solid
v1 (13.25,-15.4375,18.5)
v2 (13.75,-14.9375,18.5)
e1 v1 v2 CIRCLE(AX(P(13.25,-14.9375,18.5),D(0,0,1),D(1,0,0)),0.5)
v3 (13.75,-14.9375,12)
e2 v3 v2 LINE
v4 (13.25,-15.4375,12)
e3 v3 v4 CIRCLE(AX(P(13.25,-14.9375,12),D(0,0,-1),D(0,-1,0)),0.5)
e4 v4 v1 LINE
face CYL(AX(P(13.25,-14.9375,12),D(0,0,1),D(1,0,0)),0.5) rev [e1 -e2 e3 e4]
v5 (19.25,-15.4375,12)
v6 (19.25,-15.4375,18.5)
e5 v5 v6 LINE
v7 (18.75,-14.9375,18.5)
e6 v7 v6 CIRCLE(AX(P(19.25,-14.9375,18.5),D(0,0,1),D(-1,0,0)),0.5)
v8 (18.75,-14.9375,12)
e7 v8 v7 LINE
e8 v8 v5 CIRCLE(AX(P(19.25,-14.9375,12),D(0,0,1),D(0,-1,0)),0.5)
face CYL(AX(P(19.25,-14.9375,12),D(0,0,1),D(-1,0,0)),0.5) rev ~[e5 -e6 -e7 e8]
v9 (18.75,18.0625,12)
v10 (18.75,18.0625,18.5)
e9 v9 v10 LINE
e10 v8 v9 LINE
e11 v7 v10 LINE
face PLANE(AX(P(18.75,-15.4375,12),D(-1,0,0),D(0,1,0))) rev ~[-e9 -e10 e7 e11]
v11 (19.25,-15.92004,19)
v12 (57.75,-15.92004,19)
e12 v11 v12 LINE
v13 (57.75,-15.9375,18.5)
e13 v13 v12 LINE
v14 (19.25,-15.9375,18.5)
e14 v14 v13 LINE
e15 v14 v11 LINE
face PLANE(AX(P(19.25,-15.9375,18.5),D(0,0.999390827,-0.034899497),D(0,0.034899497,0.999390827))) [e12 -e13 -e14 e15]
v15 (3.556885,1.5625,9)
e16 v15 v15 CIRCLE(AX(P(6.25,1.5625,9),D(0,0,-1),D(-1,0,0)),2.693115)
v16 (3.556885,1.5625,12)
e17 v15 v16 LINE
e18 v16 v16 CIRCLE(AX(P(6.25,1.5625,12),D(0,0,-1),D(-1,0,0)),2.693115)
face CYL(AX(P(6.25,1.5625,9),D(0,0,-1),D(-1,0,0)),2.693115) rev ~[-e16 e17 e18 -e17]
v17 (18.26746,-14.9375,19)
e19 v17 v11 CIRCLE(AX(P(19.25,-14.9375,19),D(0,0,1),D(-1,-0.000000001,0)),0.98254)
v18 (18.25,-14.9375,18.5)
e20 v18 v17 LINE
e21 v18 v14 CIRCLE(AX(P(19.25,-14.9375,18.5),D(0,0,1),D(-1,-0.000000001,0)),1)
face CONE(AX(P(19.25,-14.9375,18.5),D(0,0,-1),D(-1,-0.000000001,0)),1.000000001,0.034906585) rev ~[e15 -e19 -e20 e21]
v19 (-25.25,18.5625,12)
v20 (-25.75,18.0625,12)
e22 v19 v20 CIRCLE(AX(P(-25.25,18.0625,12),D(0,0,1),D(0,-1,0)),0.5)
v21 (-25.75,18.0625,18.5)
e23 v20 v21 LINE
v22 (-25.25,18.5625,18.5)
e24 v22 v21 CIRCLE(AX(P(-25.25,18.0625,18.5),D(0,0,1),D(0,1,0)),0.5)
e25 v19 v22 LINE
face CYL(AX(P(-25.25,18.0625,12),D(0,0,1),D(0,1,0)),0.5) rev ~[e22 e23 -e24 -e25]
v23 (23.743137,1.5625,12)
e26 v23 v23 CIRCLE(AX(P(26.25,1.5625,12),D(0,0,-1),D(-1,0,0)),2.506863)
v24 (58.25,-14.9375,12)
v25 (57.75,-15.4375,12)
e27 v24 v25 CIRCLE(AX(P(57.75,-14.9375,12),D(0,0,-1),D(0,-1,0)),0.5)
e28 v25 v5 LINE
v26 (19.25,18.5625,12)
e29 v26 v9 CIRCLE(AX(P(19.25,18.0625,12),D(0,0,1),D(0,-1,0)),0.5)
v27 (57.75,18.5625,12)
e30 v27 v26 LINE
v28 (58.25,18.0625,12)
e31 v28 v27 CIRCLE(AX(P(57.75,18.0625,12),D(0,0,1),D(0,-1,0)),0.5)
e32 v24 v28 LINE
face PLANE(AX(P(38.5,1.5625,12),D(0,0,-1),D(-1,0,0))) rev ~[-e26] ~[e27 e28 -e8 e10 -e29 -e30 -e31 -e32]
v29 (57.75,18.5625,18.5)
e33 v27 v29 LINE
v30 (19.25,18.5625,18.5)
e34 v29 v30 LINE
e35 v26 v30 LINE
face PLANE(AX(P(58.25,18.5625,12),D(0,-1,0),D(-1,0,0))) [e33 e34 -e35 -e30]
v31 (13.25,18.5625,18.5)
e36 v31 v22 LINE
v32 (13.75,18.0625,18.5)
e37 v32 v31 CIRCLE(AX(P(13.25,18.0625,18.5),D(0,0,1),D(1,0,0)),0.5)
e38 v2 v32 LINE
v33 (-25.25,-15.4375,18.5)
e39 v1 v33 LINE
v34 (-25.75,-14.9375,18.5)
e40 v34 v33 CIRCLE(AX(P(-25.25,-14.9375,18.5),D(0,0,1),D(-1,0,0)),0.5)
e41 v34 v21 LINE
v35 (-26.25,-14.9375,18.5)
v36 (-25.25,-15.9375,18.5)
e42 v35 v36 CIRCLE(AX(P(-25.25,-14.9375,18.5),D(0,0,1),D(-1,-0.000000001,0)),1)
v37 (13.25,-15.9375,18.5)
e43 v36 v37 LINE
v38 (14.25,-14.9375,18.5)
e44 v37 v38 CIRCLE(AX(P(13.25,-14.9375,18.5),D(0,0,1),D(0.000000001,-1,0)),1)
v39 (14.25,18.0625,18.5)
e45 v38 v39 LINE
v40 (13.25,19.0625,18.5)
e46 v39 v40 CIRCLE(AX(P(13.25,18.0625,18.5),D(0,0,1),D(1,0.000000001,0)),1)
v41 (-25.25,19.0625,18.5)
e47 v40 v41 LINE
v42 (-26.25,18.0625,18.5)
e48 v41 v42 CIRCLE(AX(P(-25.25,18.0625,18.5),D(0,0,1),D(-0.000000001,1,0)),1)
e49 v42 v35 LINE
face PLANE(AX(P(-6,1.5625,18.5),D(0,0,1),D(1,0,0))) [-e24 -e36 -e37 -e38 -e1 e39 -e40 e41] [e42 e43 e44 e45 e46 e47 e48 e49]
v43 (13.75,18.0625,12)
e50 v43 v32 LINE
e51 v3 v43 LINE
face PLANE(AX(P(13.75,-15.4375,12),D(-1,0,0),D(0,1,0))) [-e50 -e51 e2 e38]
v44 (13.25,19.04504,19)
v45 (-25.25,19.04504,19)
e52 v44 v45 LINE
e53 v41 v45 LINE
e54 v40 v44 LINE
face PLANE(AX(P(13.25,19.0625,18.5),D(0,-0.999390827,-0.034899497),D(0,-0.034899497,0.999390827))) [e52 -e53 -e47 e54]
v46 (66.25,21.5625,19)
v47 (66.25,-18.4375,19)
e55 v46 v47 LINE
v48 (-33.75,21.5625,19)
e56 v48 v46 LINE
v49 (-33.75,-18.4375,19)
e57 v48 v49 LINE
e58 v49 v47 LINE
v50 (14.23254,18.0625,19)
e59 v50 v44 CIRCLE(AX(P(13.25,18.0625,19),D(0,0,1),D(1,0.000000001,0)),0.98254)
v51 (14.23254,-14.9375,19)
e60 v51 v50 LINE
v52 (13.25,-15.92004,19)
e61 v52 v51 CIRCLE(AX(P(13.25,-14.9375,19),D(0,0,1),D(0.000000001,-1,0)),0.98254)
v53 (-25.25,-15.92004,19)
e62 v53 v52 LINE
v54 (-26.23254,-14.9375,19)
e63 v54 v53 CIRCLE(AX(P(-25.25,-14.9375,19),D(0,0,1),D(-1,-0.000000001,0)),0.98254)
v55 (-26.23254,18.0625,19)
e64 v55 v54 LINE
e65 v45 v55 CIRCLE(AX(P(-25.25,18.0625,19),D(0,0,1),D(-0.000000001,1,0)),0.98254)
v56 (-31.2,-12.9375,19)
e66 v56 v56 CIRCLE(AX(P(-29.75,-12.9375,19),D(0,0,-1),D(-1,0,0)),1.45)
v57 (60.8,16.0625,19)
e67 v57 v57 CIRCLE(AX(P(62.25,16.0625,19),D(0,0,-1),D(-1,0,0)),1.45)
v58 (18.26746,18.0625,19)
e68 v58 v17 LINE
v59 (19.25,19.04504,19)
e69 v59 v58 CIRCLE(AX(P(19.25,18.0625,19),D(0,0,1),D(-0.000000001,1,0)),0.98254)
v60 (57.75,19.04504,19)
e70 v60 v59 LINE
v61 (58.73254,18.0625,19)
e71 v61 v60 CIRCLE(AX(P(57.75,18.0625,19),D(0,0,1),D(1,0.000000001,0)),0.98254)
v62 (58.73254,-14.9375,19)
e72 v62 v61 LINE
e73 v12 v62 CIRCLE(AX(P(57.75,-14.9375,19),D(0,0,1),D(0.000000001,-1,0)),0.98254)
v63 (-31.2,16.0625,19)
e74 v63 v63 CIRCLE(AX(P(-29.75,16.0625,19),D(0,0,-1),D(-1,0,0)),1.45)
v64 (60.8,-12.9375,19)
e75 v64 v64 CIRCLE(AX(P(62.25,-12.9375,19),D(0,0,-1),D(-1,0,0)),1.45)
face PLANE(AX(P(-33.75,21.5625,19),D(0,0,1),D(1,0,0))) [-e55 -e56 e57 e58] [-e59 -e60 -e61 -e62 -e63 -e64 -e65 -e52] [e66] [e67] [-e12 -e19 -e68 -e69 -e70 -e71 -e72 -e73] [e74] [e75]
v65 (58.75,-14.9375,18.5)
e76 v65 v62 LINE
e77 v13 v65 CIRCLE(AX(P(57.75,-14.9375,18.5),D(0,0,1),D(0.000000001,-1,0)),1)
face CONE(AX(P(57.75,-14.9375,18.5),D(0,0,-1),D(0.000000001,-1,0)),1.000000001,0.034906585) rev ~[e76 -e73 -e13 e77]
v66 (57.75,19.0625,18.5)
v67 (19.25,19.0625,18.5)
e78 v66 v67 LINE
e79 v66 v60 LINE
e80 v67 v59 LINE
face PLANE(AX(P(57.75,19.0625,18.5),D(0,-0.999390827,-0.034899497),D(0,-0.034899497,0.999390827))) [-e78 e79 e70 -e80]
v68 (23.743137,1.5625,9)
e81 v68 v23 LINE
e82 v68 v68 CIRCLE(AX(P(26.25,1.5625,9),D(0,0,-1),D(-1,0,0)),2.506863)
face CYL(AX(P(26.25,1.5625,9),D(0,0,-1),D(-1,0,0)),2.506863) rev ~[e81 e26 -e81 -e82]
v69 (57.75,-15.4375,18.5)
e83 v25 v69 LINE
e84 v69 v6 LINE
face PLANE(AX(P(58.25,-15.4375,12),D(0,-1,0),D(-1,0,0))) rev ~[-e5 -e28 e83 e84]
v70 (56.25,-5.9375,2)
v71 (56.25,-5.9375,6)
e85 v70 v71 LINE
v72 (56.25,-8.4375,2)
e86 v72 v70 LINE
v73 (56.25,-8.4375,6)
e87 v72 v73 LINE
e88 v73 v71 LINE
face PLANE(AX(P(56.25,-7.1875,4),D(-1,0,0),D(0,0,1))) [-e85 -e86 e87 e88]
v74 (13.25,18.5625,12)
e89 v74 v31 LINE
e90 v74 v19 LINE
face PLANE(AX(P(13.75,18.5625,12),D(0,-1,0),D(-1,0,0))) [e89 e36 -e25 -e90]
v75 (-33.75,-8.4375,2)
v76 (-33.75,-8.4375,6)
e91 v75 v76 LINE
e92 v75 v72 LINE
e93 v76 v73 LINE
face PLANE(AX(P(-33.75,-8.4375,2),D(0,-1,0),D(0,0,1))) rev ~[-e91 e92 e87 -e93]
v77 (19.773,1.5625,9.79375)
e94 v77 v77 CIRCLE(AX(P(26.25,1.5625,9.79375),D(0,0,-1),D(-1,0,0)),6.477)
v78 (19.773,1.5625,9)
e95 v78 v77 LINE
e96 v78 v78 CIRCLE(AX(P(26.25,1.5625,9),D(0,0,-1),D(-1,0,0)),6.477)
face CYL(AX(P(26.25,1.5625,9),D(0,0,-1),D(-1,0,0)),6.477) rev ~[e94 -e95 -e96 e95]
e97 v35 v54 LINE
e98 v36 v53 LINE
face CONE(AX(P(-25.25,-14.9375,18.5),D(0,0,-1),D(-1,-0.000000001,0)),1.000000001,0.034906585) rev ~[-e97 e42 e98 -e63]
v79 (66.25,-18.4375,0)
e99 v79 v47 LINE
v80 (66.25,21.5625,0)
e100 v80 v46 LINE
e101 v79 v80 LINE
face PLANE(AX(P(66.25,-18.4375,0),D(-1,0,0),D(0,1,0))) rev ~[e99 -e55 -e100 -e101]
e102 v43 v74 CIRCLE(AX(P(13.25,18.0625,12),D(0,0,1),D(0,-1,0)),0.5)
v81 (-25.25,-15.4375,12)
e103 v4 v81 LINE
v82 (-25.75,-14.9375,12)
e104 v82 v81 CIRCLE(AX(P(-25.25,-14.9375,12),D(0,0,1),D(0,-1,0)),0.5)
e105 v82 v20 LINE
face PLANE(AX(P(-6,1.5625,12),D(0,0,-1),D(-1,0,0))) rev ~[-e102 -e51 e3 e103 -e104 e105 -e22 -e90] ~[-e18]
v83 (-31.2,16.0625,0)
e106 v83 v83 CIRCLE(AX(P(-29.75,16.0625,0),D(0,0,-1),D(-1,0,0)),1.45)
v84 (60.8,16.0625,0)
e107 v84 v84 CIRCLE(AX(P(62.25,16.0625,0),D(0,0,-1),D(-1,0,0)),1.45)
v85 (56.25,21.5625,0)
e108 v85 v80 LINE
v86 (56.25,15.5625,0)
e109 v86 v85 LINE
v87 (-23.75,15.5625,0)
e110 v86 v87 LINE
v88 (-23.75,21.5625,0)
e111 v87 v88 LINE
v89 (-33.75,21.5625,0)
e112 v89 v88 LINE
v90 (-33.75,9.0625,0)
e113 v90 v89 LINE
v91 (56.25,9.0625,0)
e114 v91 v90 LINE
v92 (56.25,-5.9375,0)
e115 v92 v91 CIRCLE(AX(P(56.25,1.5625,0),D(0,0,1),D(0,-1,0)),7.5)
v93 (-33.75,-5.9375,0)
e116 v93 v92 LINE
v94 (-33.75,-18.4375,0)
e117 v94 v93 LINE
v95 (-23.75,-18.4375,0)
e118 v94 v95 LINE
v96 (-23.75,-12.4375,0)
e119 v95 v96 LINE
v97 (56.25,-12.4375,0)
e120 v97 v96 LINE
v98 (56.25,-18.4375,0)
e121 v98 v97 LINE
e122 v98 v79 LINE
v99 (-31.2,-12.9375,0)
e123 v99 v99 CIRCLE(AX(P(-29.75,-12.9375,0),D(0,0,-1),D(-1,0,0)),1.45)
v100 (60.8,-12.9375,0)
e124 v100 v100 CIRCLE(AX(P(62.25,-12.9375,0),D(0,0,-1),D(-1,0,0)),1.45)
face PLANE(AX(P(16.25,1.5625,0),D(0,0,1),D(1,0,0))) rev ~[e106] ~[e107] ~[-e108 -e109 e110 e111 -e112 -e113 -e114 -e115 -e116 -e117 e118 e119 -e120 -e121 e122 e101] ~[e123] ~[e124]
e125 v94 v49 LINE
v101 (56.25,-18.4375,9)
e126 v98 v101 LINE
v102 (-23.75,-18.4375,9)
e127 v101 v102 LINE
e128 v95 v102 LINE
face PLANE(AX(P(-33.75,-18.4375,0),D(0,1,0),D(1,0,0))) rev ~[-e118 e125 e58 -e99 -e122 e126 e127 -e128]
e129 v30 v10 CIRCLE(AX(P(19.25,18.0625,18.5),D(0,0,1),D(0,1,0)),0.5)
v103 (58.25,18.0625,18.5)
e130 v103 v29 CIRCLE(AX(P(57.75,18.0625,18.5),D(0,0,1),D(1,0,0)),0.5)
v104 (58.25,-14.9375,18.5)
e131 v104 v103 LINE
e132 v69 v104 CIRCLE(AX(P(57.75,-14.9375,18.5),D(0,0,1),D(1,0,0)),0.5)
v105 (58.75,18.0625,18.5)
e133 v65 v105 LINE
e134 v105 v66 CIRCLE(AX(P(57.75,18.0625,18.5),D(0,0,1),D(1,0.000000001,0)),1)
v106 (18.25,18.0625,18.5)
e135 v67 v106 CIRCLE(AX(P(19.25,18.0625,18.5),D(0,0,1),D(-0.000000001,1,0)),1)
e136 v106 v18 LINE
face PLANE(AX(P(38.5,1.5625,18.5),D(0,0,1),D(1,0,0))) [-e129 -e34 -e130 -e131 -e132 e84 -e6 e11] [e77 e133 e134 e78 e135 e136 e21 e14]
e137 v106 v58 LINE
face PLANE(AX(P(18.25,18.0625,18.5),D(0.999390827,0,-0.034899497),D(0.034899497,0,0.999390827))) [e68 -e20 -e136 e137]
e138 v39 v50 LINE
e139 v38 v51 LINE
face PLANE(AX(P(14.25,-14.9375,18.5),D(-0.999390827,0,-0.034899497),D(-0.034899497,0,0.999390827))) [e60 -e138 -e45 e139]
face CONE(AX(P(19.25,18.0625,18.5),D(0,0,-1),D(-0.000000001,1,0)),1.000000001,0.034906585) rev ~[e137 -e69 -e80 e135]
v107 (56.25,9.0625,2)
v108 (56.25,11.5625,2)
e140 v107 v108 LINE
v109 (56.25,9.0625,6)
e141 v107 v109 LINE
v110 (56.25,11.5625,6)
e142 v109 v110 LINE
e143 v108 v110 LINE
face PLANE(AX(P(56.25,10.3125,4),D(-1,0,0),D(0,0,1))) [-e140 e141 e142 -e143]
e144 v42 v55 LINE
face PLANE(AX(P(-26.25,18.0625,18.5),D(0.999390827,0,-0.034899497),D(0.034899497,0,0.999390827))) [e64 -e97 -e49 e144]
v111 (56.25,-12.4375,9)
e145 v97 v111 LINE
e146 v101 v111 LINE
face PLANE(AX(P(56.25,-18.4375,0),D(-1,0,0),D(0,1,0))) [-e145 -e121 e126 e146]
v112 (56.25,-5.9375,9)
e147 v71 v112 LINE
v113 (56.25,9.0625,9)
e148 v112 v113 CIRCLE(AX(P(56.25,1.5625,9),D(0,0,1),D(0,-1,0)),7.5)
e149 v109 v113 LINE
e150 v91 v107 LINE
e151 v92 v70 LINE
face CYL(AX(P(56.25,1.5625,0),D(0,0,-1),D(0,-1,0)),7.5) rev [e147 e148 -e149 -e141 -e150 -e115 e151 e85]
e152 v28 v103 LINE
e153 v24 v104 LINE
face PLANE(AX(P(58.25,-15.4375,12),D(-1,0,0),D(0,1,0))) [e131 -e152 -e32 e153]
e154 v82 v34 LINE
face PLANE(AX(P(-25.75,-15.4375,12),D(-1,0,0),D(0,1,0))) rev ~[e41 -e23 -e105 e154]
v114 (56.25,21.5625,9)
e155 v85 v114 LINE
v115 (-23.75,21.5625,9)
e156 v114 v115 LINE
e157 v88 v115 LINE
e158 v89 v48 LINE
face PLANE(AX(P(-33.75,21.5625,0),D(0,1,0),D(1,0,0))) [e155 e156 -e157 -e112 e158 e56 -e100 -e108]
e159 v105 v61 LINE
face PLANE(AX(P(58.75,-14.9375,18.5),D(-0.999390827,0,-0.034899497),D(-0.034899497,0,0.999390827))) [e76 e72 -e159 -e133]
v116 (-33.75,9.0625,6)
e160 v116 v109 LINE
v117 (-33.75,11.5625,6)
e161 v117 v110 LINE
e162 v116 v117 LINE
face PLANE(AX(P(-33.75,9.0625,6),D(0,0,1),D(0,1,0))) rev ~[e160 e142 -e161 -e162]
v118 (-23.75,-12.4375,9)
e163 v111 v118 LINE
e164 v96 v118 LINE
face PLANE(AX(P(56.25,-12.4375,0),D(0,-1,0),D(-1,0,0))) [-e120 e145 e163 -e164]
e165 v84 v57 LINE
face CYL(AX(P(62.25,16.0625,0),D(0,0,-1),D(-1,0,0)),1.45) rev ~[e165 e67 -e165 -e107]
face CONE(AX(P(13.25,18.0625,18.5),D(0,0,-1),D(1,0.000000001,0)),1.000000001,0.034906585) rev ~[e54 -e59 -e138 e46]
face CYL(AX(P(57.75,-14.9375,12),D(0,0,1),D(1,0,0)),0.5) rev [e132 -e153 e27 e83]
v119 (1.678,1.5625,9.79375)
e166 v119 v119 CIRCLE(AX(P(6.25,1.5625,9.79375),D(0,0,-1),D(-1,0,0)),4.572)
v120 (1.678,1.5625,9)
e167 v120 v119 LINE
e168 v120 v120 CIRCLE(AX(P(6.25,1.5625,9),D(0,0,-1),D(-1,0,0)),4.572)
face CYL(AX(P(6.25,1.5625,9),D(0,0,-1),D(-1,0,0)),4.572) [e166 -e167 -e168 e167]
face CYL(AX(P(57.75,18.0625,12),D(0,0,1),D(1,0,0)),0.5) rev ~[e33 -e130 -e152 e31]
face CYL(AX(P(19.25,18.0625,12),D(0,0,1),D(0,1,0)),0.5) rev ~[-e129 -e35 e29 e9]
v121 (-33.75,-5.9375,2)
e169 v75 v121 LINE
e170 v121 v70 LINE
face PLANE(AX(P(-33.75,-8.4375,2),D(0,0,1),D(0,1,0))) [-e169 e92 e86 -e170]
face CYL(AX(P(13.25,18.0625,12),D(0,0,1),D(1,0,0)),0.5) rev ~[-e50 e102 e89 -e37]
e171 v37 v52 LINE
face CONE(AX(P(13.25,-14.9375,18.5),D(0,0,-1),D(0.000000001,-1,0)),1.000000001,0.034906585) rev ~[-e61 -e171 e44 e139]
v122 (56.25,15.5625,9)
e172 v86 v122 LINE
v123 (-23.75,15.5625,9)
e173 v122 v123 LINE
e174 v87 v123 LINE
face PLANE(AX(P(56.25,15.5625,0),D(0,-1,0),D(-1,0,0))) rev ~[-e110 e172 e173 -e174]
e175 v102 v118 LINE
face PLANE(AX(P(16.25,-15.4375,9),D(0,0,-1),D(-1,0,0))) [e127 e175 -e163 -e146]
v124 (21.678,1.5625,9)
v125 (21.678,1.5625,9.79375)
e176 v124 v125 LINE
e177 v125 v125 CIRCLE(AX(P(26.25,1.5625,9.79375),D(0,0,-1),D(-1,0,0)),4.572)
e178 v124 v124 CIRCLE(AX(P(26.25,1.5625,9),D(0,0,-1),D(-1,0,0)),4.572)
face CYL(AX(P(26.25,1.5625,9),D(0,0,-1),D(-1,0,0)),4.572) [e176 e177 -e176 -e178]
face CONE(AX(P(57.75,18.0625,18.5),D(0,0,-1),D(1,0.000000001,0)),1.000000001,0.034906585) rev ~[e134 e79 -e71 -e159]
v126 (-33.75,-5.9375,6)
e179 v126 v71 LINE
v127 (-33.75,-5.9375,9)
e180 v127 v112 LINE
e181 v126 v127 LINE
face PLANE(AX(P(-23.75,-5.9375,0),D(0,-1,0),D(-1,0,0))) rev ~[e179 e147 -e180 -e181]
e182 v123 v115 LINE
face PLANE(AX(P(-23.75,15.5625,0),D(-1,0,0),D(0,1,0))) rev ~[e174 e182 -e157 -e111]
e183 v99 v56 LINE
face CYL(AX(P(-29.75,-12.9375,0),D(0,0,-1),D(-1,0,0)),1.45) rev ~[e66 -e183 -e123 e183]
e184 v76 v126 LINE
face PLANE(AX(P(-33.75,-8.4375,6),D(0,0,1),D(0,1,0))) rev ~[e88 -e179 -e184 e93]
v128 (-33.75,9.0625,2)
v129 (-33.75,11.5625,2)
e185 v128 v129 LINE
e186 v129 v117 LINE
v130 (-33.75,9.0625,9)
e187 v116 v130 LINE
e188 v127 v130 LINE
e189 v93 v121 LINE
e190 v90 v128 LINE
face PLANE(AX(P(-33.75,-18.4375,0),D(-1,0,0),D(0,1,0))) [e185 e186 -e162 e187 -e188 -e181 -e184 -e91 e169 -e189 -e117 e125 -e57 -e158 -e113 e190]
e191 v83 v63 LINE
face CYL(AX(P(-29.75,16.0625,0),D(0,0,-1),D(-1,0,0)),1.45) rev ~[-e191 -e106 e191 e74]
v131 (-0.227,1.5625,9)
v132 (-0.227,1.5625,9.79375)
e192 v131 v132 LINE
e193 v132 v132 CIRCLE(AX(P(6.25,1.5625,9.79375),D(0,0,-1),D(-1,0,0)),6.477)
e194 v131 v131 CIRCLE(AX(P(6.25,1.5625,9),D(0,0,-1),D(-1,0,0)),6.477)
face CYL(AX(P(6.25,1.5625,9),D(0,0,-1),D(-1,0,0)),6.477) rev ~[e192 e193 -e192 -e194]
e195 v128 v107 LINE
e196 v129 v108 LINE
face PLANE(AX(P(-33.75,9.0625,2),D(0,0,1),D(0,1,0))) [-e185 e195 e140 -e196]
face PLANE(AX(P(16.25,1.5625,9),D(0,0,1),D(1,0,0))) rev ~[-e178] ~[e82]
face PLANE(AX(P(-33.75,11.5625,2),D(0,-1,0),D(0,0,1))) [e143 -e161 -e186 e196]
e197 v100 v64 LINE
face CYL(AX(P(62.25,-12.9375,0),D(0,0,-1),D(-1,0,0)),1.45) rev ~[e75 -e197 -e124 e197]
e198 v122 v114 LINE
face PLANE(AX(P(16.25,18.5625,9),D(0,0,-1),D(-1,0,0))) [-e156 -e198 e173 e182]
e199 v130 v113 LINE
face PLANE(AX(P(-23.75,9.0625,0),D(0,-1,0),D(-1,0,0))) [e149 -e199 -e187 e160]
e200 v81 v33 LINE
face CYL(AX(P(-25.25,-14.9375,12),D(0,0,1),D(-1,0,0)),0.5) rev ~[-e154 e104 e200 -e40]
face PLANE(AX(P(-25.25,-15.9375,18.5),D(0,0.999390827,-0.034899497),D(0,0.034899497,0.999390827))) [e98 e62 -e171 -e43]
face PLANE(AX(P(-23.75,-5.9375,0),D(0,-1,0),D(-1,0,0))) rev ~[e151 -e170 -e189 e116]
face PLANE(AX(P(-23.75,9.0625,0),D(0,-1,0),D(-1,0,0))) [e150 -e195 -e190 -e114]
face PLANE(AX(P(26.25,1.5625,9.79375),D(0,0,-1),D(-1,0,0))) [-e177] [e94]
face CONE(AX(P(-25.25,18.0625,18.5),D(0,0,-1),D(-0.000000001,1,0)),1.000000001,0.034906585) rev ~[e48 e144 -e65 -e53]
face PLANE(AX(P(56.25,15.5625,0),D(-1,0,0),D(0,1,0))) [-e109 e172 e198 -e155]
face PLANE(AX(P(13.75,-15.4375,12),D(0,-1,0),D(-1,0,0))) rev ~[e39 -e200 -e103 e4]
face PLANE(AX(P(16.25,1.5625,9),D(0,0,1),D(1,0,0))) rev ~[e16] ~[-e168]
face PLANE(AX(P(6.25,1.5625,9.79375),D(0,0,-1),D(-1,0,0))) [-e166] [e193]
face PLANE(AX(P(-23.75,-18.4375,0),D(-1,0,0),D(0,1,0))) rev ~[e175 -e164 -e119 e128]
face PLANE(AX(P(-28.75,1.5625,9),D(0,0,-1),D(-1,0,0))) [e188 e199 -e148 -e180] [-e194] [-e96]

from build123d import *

# Parameters (mm, degrees)
SKETCH1_W           = 100
SKETCH1_H           = 40
BOSS_EXTRUDE1_DEPTH = 38
CUT_EXTRUDE2_START  = -12
SKETCH2_W           = 39.5
SKETCH2_H           = 34
CUT_EXTRUDE2_DEPTH  = 21
CUT_EXTRUDE4_REACH  = 81.36
SKETCH4_R           = 1.45
SKETCH6_W           = 100
SKETCH6_H           = 19
CUT_EXTRUDE5_DEPTH  = 87.215210375
FILLET1_R           = 0.5
CUT_EXTRUDE6_START  = 6.5
CUT_EXTRUDE6_DEPTH  = 0.5
CUT_EXTRUDE6_TAPER  = 2
CUT_EXTRUDE7_START  = 6.5
CUT_EXTRUDE7_DEPTH  = 0.5
CUT_EXTRUDE7_TAPER  = 2
CUT_EXTRUDE12_DEPTH = 9
CUT_EXTRUDE13_REACH = 72.385
SKETCH18_R          = 2.506862912
SKETCH18_R_2        = 2.693115416
SKETCH19_R          = 6.477
SKETCH19_R_2        = 4.572
CUT_EXTRUDE14_DEPTH = 0.79375
SKETCH21_W          = 10
SKETCH21_H          = 15
CUT_EXTRUDE15_DEPTH = 9
SKETCH22_W          = 4
SKETCH22_H          = 2.5
CUT_EXTRUDE16_DEPTH = 90
SKETCH23_W          = 80
SKETCH23_H          = 6
CUT_EXTRUDE17_DEPTH = 9


with BuildPart() as part:
    # Sketch1 → Boss-Extrude1 (new body)
    with BuildSketch(Plane.XY):
        with Locations((16.25, 1.5625)):
            Rectangle(SKETCH1_W, SKETCH1_H)
    extrude(amount=BOSS_EXTRUDE1_DEPTH)

    # Sketch2 → Cut-Extrude2 (cut)
    with BuildSketch(Plane(origin=(0, 0, 0), x_dir=(-1, 0, 0), z_dir=(0, 0, -1)).offset(CUT_EXTRUDE2_START)):
        with Locations((-38.5, 1.5625)):
            Rectangle(SKETCH2_W, SKETCH2_H)
        with Locations((6, 1.5625)):
            Rectangle(SKETCH2_W, SKETCH2_H)
    extrude(amount=-CUT_EXTRUDE2_DEPTH, mode=Mode.SUBTRACT)

    # Sketch4 → Cut-Extrude4 (cut, up to next)
    with BuildSketch(Plane(origin=(0, 0, 0), x_dir=(-1, 0, 0), z_dir=(0, 0, -1)), mode=Mode.PRIVATE) as cut_extrude4_sk1:
        with Locations((-62.25, 16.0625)):
            Circle(SKETCH4_R)
    cut_extrude4_tool1 = extrude(cut_extrude4_sk1.sketch, amount=-CUT_EXTRUDE4_REACH, mode=Mode.PRIVATE) & part.part
    # Sketch4 → Cut-Extrude4 (cut, up to next)
    with BuildSketch(Plane(origin=(0, 0, 0), x_dir=(-1, 0, 0), z_dir=(0, 0, -1)), mode=Mode.PRIVATE) as cut_extrude4_sk2:
        with Locations((-62.25, -12.9375)):
            Circle(SKETCH4_R)
    cut_extrude4_tool2 = extrude(cut_extrude4_sk2.sketch, amount=-CUT_EXTRUDE4_REACH, mode=Mode.PRIVATE) & part.part
    # Sketch4 → Cut-Extrude4 (cut, up to next)
    with BuildSketch(Plane(origin=(0, 0, 0), x_dir=(-1, 0, 0), z_dir=(0, 0, -1)), mode=Mode.PRIVATE) as cut_extrude4_sk3:
        with Locations((29.75, 16.0625)):
            Circle(SKETCH4_R)
    cut_extrude4_tool3 = extrude(cut_extrude4_sk3.sketch, amount=-CUT_EXTRUDE4_REACH, mode=Mode.PRIVATE) & part.part
    # Sketch4 → Cut-Extrude4 (cut, up to next)
    with BuildSketch(Plane(origin=(0, 0, 0), x_dir=(-1, 0, 0), z_dir=(0, 0, -1)), mode=Mode.PRIVATE) as cut_extrude4_sk4:
        with Locations((29.75, -12.9375)):
            Circle(SKETCH4_R)
    cut_extrude4_tool4 = extrude(cut_extrude4_sk4.sketch, amount=-CUT_EXTRUDE4_REACH, mode=Mode.PRIVATE) & part.part
    add(cut_extrude4_tool1.solids().sort_by_distance((62.25, 16.0625, 0))[0], mode=Mode.SUBTRACT)
    add(cut_extrude4_tool2.solids().sort_by_distance((62.25, -12.9375, 0))[0], mode=Mode.SUBTRACT)
    add(cut_extrude4_tool3.solids().sort_by_distance((-29.75, 16.0625, 0))[0], mode=Mode.SUBTRACT)
    add(cut_extrude4_tool4.solids().sort_by_distance((-29.75, -12.9375, 0))[0], mode=Mode.SUBTRACT)

    # Sketch6 → Cut-Extrude5 (cut, through all)
    with BuildSketch(Plane(origin=(0, 21.5625, 0), x_dir=(1, 0, 0), z_dir=(0, 1, 0))):
        with Locations((16.25, -28.5)):
            Rectangle(SKETCH6_W, SKETCH6_H)
    extrude(amount=-CUT_EXTRUDE5_DEPTH, mode=Mode.SUBTRACT)

    # Fillet1
    fillet1_edges = [part.edges().sort_by_distance(p)[0] for p in [
        (-25.75, -15.4375, 15.5),
        (13.75, -15.4375, 15.5),
        (-25.75, 18.5625, 15.5),
        (13.75, 18.5625, 15.5),
        (18.75, -15.4375, 15.5),
        (58.25, -15.4375, 15.5),
        (18.75, 18.5625, 15.5),
        (58.25, 18.5625, 15.5),
    ]]
    fillet(fillet1_edges, radius=FILLET1_R)

    # Sketch10 → Cut-Extrude6 (cut)
    with BuildSketch(Plane.XY.offset(12).offset(CUT_EXTRUDE6_START)):
        with BuildLine():
            Line((14.25, -14.9375), (14.25, 18.0625))
            ThreePointArc((14.25, 18.0625), (13.957106781, 18.769606781), (13.25, 19.0625))
            Line((13.25, 19.0625), (-25.25, 19.0625))
            ThreePointArc((-25.25, 19.0625), (-25.957106781, 18.769606781), (-26.25, 18.0625))
            Line((-26.25, 18.0625), (-26.25, -14.9375))
            ThreePointArc((-26.25, -14.9375), (-25.957106781, -15.644606781), (-25.25, -15.9375))
            Line((-25.25, -15.9375), (13.25, -15.9375))
            ThreePointArc((13.25, -15.9375), (13.957106781, -15.644606781), (14.25, -14.9375))
        make_face()
    extrude(amount=CUT_EXTRUDE6_DEPTH, taper=CUT_EXTRUDE6_TAPER, mode=Mode.SUBTRACT)

    # Sketch11 → Cut-Extrude7 (cut)
    with BuildSketch(Plane.XY.offset(12).offset(CUT_EXTRUDE7_START)):
        with BuildLine():
            Line((58.75, -14.9375), (58.75, 18.0625))
            ThreePointArc((58.75, 18.0625), (58.457106781, 18.769606781), (57.75, 19.0625))
            Line((57.75, 19.0625), (19.25, 19.0625))
            ThreePointArc((19.25, 19.0625), (18.542893219, 18.769606781), (18.25, 18.0625))
            Line((18.25, 18.0625), (18.25, -14.9375))
            ThreePointArc((18.25, -14.9375), (18.542893219, -15.644606781), (19.25, -15.9375))
            Line((19.25, -15.9375), (57.75, -15.9375))
            ThreePointArc((57.75, -15.9375), (58.457106781, -15.644606781), (58.75, -14.9375))
        make_face()
    extrude(amount=CUT_EXTRUDE7_DEPTH, taper=CUT_EXTRUDE7_TAPER, mode=Mode.SUBTRACT)

    # Sketch17 → Cut-Extrude12 (cut)
    with BuildSketch(Plane(origin=(0, 0, 0), x_dir=(-1, 0, 0), z_dir=(0, 0, -1))):
        with BuildLine():
            Line((-56.25, 9.0625), (23.75, 9.0625))
            ThreePointArc((23.75, 9.0625), (31.25, 1.5625), (23.75, -5.9375))
            Line((23.75, -5.9375), (-56.25, -5.9375))
            ThreePointArc((-56.25, -5.9375), (-63.75, 1.5625), (-56.25, 9.0625))
        make_face()
    extrude(amount=-CUT_EXTRUDE12_DEPTH, mode=Mode.SUBTRACT)

    # Sketch18 → Cut-Extrude13 (cut, up to next)
    with BuildSketch(Plane(origin=(0, 0, 9), x_dir=(-1, 0, 0), z_dir=(0, 0, -1)), mode=Mode.PRIVATE) as cut_extrude13_sk1:
        with Locations((-26.25, 1.5625)):
            Circle(SKETCH18_R)
    cut_extrude13_tool1 = extrude(cut_extrude13_sk1.sketch, amount=-CUT_EXTRUDE13_REACH, mode=Mode.PRIVATE) & part.part
    # Sketch18 → Cut-Extrude13 (cut, up to next)
    with BuildSketch(Plane(origin=(0, 0, 9), x_dir=(-1, 0, 0), z_dir=(0, 0, -1)), mode=Mode.PRIVATE) as cut_extrude13_sk2:
        with Locations((-6.25, 1.5625)):
            Circle(SKETCH18_R_2)
    cut_extrude13_tool2 = extrude(cut_extrude13_sk2.sketch, amount=-CUT_EXTRUDE13_REACH, mode=Mode.PRIVATE) & part.part
    add(cut_extrude13_tool1.solids().sort_by_distance((26.25, 1.5625, 9))[0], mode=Mode.SUBTRACT)
    add(cut_extrude13_tool2.solids().sort_by_distance((6.25, 1.5625, 9))[0], mode=Mode.SUBTRACT)

    # Sketch19 → Cut-Extrude14 (cut)
    # profile 1 of 2: a face of its own
    with BuildSketch(Plane(origin=(0, 0, 9), x_dir=(-1, 0, 0), z_dir=(0, 0, -1))):
        with Locations((-26.25, 1.5625)):
            Circle(SKETCH19_R)
        with Locations((-26.25, 1.5625)):
            Circle(SKETCH19_R_2, mode=Mode.SUBTRACT)
    # profile 2 of 2: a face of its own
    with BuildSketch(Plane(origin=(0, 0, 9), x_dir=(-1, 0, 0), z_dir=(0, 0, -1))):
        with Locations((-6.25, 1.5625)):
            Circle(SKETCH19_R)
        with Locations((-6.25, 1.5625)):
            Circle(SKETCH19_R_2, mode=Mode.SUBTRACT)
    extrude(amount=-CUT_EXTRUDE14_DEPTH, mode=Mode.SUBTRACT)

    # Sketch21 → Cut-Extrude15 (cut)
    with BuildSketch(Plane(origin=(0, 0, 0), x_dir=(-1, 0, 0), z_dir=(0, 0, -1))):
        with Locations((28.75, 1.5625)):
            Rectangle(SKETCH21_W, SKETCH21_H)
    extrude(amount=-CUT_EXTRUDE15_DEPTH, mode=Mode.SUBTRACT)

    # Sketch22 → Cut-Extrude16 (cut)
    with BuildSketch(Plane.ZY.offset(33.75)):
        with Locations((4, 10.3125)):
            Rectangle(SKETCH22_W, SKETCH22_H)
        with Locations((4, -7.1875)):
            Rectangle(SKETCH22_W, SKETCH22_H)
    extrude(amount=-CUT_EXTRUDE16_DEPTH, mode=Mode.SUBTRACT)

    # Sketch23 → Cut-Extrude17 (cut)
    with BuildSketch(Plane(origin=(0, 0, 0), x_dir=(-1, 0, 0), z_dir=(0, 0, -1))):
        with Locations((-16.25, 18.5625)):
            Rectangle(SKETCH23_W, SKETCH23_H)
        with Locations((-16.25, -15.4375)):
            Rectangle(SKETCH23_W, SKETCH23_H)
    extrude(amount=-CUT_EXTRUDE17_DEPTH, mode=Mode.SUBTRACT)


solid = part.part
